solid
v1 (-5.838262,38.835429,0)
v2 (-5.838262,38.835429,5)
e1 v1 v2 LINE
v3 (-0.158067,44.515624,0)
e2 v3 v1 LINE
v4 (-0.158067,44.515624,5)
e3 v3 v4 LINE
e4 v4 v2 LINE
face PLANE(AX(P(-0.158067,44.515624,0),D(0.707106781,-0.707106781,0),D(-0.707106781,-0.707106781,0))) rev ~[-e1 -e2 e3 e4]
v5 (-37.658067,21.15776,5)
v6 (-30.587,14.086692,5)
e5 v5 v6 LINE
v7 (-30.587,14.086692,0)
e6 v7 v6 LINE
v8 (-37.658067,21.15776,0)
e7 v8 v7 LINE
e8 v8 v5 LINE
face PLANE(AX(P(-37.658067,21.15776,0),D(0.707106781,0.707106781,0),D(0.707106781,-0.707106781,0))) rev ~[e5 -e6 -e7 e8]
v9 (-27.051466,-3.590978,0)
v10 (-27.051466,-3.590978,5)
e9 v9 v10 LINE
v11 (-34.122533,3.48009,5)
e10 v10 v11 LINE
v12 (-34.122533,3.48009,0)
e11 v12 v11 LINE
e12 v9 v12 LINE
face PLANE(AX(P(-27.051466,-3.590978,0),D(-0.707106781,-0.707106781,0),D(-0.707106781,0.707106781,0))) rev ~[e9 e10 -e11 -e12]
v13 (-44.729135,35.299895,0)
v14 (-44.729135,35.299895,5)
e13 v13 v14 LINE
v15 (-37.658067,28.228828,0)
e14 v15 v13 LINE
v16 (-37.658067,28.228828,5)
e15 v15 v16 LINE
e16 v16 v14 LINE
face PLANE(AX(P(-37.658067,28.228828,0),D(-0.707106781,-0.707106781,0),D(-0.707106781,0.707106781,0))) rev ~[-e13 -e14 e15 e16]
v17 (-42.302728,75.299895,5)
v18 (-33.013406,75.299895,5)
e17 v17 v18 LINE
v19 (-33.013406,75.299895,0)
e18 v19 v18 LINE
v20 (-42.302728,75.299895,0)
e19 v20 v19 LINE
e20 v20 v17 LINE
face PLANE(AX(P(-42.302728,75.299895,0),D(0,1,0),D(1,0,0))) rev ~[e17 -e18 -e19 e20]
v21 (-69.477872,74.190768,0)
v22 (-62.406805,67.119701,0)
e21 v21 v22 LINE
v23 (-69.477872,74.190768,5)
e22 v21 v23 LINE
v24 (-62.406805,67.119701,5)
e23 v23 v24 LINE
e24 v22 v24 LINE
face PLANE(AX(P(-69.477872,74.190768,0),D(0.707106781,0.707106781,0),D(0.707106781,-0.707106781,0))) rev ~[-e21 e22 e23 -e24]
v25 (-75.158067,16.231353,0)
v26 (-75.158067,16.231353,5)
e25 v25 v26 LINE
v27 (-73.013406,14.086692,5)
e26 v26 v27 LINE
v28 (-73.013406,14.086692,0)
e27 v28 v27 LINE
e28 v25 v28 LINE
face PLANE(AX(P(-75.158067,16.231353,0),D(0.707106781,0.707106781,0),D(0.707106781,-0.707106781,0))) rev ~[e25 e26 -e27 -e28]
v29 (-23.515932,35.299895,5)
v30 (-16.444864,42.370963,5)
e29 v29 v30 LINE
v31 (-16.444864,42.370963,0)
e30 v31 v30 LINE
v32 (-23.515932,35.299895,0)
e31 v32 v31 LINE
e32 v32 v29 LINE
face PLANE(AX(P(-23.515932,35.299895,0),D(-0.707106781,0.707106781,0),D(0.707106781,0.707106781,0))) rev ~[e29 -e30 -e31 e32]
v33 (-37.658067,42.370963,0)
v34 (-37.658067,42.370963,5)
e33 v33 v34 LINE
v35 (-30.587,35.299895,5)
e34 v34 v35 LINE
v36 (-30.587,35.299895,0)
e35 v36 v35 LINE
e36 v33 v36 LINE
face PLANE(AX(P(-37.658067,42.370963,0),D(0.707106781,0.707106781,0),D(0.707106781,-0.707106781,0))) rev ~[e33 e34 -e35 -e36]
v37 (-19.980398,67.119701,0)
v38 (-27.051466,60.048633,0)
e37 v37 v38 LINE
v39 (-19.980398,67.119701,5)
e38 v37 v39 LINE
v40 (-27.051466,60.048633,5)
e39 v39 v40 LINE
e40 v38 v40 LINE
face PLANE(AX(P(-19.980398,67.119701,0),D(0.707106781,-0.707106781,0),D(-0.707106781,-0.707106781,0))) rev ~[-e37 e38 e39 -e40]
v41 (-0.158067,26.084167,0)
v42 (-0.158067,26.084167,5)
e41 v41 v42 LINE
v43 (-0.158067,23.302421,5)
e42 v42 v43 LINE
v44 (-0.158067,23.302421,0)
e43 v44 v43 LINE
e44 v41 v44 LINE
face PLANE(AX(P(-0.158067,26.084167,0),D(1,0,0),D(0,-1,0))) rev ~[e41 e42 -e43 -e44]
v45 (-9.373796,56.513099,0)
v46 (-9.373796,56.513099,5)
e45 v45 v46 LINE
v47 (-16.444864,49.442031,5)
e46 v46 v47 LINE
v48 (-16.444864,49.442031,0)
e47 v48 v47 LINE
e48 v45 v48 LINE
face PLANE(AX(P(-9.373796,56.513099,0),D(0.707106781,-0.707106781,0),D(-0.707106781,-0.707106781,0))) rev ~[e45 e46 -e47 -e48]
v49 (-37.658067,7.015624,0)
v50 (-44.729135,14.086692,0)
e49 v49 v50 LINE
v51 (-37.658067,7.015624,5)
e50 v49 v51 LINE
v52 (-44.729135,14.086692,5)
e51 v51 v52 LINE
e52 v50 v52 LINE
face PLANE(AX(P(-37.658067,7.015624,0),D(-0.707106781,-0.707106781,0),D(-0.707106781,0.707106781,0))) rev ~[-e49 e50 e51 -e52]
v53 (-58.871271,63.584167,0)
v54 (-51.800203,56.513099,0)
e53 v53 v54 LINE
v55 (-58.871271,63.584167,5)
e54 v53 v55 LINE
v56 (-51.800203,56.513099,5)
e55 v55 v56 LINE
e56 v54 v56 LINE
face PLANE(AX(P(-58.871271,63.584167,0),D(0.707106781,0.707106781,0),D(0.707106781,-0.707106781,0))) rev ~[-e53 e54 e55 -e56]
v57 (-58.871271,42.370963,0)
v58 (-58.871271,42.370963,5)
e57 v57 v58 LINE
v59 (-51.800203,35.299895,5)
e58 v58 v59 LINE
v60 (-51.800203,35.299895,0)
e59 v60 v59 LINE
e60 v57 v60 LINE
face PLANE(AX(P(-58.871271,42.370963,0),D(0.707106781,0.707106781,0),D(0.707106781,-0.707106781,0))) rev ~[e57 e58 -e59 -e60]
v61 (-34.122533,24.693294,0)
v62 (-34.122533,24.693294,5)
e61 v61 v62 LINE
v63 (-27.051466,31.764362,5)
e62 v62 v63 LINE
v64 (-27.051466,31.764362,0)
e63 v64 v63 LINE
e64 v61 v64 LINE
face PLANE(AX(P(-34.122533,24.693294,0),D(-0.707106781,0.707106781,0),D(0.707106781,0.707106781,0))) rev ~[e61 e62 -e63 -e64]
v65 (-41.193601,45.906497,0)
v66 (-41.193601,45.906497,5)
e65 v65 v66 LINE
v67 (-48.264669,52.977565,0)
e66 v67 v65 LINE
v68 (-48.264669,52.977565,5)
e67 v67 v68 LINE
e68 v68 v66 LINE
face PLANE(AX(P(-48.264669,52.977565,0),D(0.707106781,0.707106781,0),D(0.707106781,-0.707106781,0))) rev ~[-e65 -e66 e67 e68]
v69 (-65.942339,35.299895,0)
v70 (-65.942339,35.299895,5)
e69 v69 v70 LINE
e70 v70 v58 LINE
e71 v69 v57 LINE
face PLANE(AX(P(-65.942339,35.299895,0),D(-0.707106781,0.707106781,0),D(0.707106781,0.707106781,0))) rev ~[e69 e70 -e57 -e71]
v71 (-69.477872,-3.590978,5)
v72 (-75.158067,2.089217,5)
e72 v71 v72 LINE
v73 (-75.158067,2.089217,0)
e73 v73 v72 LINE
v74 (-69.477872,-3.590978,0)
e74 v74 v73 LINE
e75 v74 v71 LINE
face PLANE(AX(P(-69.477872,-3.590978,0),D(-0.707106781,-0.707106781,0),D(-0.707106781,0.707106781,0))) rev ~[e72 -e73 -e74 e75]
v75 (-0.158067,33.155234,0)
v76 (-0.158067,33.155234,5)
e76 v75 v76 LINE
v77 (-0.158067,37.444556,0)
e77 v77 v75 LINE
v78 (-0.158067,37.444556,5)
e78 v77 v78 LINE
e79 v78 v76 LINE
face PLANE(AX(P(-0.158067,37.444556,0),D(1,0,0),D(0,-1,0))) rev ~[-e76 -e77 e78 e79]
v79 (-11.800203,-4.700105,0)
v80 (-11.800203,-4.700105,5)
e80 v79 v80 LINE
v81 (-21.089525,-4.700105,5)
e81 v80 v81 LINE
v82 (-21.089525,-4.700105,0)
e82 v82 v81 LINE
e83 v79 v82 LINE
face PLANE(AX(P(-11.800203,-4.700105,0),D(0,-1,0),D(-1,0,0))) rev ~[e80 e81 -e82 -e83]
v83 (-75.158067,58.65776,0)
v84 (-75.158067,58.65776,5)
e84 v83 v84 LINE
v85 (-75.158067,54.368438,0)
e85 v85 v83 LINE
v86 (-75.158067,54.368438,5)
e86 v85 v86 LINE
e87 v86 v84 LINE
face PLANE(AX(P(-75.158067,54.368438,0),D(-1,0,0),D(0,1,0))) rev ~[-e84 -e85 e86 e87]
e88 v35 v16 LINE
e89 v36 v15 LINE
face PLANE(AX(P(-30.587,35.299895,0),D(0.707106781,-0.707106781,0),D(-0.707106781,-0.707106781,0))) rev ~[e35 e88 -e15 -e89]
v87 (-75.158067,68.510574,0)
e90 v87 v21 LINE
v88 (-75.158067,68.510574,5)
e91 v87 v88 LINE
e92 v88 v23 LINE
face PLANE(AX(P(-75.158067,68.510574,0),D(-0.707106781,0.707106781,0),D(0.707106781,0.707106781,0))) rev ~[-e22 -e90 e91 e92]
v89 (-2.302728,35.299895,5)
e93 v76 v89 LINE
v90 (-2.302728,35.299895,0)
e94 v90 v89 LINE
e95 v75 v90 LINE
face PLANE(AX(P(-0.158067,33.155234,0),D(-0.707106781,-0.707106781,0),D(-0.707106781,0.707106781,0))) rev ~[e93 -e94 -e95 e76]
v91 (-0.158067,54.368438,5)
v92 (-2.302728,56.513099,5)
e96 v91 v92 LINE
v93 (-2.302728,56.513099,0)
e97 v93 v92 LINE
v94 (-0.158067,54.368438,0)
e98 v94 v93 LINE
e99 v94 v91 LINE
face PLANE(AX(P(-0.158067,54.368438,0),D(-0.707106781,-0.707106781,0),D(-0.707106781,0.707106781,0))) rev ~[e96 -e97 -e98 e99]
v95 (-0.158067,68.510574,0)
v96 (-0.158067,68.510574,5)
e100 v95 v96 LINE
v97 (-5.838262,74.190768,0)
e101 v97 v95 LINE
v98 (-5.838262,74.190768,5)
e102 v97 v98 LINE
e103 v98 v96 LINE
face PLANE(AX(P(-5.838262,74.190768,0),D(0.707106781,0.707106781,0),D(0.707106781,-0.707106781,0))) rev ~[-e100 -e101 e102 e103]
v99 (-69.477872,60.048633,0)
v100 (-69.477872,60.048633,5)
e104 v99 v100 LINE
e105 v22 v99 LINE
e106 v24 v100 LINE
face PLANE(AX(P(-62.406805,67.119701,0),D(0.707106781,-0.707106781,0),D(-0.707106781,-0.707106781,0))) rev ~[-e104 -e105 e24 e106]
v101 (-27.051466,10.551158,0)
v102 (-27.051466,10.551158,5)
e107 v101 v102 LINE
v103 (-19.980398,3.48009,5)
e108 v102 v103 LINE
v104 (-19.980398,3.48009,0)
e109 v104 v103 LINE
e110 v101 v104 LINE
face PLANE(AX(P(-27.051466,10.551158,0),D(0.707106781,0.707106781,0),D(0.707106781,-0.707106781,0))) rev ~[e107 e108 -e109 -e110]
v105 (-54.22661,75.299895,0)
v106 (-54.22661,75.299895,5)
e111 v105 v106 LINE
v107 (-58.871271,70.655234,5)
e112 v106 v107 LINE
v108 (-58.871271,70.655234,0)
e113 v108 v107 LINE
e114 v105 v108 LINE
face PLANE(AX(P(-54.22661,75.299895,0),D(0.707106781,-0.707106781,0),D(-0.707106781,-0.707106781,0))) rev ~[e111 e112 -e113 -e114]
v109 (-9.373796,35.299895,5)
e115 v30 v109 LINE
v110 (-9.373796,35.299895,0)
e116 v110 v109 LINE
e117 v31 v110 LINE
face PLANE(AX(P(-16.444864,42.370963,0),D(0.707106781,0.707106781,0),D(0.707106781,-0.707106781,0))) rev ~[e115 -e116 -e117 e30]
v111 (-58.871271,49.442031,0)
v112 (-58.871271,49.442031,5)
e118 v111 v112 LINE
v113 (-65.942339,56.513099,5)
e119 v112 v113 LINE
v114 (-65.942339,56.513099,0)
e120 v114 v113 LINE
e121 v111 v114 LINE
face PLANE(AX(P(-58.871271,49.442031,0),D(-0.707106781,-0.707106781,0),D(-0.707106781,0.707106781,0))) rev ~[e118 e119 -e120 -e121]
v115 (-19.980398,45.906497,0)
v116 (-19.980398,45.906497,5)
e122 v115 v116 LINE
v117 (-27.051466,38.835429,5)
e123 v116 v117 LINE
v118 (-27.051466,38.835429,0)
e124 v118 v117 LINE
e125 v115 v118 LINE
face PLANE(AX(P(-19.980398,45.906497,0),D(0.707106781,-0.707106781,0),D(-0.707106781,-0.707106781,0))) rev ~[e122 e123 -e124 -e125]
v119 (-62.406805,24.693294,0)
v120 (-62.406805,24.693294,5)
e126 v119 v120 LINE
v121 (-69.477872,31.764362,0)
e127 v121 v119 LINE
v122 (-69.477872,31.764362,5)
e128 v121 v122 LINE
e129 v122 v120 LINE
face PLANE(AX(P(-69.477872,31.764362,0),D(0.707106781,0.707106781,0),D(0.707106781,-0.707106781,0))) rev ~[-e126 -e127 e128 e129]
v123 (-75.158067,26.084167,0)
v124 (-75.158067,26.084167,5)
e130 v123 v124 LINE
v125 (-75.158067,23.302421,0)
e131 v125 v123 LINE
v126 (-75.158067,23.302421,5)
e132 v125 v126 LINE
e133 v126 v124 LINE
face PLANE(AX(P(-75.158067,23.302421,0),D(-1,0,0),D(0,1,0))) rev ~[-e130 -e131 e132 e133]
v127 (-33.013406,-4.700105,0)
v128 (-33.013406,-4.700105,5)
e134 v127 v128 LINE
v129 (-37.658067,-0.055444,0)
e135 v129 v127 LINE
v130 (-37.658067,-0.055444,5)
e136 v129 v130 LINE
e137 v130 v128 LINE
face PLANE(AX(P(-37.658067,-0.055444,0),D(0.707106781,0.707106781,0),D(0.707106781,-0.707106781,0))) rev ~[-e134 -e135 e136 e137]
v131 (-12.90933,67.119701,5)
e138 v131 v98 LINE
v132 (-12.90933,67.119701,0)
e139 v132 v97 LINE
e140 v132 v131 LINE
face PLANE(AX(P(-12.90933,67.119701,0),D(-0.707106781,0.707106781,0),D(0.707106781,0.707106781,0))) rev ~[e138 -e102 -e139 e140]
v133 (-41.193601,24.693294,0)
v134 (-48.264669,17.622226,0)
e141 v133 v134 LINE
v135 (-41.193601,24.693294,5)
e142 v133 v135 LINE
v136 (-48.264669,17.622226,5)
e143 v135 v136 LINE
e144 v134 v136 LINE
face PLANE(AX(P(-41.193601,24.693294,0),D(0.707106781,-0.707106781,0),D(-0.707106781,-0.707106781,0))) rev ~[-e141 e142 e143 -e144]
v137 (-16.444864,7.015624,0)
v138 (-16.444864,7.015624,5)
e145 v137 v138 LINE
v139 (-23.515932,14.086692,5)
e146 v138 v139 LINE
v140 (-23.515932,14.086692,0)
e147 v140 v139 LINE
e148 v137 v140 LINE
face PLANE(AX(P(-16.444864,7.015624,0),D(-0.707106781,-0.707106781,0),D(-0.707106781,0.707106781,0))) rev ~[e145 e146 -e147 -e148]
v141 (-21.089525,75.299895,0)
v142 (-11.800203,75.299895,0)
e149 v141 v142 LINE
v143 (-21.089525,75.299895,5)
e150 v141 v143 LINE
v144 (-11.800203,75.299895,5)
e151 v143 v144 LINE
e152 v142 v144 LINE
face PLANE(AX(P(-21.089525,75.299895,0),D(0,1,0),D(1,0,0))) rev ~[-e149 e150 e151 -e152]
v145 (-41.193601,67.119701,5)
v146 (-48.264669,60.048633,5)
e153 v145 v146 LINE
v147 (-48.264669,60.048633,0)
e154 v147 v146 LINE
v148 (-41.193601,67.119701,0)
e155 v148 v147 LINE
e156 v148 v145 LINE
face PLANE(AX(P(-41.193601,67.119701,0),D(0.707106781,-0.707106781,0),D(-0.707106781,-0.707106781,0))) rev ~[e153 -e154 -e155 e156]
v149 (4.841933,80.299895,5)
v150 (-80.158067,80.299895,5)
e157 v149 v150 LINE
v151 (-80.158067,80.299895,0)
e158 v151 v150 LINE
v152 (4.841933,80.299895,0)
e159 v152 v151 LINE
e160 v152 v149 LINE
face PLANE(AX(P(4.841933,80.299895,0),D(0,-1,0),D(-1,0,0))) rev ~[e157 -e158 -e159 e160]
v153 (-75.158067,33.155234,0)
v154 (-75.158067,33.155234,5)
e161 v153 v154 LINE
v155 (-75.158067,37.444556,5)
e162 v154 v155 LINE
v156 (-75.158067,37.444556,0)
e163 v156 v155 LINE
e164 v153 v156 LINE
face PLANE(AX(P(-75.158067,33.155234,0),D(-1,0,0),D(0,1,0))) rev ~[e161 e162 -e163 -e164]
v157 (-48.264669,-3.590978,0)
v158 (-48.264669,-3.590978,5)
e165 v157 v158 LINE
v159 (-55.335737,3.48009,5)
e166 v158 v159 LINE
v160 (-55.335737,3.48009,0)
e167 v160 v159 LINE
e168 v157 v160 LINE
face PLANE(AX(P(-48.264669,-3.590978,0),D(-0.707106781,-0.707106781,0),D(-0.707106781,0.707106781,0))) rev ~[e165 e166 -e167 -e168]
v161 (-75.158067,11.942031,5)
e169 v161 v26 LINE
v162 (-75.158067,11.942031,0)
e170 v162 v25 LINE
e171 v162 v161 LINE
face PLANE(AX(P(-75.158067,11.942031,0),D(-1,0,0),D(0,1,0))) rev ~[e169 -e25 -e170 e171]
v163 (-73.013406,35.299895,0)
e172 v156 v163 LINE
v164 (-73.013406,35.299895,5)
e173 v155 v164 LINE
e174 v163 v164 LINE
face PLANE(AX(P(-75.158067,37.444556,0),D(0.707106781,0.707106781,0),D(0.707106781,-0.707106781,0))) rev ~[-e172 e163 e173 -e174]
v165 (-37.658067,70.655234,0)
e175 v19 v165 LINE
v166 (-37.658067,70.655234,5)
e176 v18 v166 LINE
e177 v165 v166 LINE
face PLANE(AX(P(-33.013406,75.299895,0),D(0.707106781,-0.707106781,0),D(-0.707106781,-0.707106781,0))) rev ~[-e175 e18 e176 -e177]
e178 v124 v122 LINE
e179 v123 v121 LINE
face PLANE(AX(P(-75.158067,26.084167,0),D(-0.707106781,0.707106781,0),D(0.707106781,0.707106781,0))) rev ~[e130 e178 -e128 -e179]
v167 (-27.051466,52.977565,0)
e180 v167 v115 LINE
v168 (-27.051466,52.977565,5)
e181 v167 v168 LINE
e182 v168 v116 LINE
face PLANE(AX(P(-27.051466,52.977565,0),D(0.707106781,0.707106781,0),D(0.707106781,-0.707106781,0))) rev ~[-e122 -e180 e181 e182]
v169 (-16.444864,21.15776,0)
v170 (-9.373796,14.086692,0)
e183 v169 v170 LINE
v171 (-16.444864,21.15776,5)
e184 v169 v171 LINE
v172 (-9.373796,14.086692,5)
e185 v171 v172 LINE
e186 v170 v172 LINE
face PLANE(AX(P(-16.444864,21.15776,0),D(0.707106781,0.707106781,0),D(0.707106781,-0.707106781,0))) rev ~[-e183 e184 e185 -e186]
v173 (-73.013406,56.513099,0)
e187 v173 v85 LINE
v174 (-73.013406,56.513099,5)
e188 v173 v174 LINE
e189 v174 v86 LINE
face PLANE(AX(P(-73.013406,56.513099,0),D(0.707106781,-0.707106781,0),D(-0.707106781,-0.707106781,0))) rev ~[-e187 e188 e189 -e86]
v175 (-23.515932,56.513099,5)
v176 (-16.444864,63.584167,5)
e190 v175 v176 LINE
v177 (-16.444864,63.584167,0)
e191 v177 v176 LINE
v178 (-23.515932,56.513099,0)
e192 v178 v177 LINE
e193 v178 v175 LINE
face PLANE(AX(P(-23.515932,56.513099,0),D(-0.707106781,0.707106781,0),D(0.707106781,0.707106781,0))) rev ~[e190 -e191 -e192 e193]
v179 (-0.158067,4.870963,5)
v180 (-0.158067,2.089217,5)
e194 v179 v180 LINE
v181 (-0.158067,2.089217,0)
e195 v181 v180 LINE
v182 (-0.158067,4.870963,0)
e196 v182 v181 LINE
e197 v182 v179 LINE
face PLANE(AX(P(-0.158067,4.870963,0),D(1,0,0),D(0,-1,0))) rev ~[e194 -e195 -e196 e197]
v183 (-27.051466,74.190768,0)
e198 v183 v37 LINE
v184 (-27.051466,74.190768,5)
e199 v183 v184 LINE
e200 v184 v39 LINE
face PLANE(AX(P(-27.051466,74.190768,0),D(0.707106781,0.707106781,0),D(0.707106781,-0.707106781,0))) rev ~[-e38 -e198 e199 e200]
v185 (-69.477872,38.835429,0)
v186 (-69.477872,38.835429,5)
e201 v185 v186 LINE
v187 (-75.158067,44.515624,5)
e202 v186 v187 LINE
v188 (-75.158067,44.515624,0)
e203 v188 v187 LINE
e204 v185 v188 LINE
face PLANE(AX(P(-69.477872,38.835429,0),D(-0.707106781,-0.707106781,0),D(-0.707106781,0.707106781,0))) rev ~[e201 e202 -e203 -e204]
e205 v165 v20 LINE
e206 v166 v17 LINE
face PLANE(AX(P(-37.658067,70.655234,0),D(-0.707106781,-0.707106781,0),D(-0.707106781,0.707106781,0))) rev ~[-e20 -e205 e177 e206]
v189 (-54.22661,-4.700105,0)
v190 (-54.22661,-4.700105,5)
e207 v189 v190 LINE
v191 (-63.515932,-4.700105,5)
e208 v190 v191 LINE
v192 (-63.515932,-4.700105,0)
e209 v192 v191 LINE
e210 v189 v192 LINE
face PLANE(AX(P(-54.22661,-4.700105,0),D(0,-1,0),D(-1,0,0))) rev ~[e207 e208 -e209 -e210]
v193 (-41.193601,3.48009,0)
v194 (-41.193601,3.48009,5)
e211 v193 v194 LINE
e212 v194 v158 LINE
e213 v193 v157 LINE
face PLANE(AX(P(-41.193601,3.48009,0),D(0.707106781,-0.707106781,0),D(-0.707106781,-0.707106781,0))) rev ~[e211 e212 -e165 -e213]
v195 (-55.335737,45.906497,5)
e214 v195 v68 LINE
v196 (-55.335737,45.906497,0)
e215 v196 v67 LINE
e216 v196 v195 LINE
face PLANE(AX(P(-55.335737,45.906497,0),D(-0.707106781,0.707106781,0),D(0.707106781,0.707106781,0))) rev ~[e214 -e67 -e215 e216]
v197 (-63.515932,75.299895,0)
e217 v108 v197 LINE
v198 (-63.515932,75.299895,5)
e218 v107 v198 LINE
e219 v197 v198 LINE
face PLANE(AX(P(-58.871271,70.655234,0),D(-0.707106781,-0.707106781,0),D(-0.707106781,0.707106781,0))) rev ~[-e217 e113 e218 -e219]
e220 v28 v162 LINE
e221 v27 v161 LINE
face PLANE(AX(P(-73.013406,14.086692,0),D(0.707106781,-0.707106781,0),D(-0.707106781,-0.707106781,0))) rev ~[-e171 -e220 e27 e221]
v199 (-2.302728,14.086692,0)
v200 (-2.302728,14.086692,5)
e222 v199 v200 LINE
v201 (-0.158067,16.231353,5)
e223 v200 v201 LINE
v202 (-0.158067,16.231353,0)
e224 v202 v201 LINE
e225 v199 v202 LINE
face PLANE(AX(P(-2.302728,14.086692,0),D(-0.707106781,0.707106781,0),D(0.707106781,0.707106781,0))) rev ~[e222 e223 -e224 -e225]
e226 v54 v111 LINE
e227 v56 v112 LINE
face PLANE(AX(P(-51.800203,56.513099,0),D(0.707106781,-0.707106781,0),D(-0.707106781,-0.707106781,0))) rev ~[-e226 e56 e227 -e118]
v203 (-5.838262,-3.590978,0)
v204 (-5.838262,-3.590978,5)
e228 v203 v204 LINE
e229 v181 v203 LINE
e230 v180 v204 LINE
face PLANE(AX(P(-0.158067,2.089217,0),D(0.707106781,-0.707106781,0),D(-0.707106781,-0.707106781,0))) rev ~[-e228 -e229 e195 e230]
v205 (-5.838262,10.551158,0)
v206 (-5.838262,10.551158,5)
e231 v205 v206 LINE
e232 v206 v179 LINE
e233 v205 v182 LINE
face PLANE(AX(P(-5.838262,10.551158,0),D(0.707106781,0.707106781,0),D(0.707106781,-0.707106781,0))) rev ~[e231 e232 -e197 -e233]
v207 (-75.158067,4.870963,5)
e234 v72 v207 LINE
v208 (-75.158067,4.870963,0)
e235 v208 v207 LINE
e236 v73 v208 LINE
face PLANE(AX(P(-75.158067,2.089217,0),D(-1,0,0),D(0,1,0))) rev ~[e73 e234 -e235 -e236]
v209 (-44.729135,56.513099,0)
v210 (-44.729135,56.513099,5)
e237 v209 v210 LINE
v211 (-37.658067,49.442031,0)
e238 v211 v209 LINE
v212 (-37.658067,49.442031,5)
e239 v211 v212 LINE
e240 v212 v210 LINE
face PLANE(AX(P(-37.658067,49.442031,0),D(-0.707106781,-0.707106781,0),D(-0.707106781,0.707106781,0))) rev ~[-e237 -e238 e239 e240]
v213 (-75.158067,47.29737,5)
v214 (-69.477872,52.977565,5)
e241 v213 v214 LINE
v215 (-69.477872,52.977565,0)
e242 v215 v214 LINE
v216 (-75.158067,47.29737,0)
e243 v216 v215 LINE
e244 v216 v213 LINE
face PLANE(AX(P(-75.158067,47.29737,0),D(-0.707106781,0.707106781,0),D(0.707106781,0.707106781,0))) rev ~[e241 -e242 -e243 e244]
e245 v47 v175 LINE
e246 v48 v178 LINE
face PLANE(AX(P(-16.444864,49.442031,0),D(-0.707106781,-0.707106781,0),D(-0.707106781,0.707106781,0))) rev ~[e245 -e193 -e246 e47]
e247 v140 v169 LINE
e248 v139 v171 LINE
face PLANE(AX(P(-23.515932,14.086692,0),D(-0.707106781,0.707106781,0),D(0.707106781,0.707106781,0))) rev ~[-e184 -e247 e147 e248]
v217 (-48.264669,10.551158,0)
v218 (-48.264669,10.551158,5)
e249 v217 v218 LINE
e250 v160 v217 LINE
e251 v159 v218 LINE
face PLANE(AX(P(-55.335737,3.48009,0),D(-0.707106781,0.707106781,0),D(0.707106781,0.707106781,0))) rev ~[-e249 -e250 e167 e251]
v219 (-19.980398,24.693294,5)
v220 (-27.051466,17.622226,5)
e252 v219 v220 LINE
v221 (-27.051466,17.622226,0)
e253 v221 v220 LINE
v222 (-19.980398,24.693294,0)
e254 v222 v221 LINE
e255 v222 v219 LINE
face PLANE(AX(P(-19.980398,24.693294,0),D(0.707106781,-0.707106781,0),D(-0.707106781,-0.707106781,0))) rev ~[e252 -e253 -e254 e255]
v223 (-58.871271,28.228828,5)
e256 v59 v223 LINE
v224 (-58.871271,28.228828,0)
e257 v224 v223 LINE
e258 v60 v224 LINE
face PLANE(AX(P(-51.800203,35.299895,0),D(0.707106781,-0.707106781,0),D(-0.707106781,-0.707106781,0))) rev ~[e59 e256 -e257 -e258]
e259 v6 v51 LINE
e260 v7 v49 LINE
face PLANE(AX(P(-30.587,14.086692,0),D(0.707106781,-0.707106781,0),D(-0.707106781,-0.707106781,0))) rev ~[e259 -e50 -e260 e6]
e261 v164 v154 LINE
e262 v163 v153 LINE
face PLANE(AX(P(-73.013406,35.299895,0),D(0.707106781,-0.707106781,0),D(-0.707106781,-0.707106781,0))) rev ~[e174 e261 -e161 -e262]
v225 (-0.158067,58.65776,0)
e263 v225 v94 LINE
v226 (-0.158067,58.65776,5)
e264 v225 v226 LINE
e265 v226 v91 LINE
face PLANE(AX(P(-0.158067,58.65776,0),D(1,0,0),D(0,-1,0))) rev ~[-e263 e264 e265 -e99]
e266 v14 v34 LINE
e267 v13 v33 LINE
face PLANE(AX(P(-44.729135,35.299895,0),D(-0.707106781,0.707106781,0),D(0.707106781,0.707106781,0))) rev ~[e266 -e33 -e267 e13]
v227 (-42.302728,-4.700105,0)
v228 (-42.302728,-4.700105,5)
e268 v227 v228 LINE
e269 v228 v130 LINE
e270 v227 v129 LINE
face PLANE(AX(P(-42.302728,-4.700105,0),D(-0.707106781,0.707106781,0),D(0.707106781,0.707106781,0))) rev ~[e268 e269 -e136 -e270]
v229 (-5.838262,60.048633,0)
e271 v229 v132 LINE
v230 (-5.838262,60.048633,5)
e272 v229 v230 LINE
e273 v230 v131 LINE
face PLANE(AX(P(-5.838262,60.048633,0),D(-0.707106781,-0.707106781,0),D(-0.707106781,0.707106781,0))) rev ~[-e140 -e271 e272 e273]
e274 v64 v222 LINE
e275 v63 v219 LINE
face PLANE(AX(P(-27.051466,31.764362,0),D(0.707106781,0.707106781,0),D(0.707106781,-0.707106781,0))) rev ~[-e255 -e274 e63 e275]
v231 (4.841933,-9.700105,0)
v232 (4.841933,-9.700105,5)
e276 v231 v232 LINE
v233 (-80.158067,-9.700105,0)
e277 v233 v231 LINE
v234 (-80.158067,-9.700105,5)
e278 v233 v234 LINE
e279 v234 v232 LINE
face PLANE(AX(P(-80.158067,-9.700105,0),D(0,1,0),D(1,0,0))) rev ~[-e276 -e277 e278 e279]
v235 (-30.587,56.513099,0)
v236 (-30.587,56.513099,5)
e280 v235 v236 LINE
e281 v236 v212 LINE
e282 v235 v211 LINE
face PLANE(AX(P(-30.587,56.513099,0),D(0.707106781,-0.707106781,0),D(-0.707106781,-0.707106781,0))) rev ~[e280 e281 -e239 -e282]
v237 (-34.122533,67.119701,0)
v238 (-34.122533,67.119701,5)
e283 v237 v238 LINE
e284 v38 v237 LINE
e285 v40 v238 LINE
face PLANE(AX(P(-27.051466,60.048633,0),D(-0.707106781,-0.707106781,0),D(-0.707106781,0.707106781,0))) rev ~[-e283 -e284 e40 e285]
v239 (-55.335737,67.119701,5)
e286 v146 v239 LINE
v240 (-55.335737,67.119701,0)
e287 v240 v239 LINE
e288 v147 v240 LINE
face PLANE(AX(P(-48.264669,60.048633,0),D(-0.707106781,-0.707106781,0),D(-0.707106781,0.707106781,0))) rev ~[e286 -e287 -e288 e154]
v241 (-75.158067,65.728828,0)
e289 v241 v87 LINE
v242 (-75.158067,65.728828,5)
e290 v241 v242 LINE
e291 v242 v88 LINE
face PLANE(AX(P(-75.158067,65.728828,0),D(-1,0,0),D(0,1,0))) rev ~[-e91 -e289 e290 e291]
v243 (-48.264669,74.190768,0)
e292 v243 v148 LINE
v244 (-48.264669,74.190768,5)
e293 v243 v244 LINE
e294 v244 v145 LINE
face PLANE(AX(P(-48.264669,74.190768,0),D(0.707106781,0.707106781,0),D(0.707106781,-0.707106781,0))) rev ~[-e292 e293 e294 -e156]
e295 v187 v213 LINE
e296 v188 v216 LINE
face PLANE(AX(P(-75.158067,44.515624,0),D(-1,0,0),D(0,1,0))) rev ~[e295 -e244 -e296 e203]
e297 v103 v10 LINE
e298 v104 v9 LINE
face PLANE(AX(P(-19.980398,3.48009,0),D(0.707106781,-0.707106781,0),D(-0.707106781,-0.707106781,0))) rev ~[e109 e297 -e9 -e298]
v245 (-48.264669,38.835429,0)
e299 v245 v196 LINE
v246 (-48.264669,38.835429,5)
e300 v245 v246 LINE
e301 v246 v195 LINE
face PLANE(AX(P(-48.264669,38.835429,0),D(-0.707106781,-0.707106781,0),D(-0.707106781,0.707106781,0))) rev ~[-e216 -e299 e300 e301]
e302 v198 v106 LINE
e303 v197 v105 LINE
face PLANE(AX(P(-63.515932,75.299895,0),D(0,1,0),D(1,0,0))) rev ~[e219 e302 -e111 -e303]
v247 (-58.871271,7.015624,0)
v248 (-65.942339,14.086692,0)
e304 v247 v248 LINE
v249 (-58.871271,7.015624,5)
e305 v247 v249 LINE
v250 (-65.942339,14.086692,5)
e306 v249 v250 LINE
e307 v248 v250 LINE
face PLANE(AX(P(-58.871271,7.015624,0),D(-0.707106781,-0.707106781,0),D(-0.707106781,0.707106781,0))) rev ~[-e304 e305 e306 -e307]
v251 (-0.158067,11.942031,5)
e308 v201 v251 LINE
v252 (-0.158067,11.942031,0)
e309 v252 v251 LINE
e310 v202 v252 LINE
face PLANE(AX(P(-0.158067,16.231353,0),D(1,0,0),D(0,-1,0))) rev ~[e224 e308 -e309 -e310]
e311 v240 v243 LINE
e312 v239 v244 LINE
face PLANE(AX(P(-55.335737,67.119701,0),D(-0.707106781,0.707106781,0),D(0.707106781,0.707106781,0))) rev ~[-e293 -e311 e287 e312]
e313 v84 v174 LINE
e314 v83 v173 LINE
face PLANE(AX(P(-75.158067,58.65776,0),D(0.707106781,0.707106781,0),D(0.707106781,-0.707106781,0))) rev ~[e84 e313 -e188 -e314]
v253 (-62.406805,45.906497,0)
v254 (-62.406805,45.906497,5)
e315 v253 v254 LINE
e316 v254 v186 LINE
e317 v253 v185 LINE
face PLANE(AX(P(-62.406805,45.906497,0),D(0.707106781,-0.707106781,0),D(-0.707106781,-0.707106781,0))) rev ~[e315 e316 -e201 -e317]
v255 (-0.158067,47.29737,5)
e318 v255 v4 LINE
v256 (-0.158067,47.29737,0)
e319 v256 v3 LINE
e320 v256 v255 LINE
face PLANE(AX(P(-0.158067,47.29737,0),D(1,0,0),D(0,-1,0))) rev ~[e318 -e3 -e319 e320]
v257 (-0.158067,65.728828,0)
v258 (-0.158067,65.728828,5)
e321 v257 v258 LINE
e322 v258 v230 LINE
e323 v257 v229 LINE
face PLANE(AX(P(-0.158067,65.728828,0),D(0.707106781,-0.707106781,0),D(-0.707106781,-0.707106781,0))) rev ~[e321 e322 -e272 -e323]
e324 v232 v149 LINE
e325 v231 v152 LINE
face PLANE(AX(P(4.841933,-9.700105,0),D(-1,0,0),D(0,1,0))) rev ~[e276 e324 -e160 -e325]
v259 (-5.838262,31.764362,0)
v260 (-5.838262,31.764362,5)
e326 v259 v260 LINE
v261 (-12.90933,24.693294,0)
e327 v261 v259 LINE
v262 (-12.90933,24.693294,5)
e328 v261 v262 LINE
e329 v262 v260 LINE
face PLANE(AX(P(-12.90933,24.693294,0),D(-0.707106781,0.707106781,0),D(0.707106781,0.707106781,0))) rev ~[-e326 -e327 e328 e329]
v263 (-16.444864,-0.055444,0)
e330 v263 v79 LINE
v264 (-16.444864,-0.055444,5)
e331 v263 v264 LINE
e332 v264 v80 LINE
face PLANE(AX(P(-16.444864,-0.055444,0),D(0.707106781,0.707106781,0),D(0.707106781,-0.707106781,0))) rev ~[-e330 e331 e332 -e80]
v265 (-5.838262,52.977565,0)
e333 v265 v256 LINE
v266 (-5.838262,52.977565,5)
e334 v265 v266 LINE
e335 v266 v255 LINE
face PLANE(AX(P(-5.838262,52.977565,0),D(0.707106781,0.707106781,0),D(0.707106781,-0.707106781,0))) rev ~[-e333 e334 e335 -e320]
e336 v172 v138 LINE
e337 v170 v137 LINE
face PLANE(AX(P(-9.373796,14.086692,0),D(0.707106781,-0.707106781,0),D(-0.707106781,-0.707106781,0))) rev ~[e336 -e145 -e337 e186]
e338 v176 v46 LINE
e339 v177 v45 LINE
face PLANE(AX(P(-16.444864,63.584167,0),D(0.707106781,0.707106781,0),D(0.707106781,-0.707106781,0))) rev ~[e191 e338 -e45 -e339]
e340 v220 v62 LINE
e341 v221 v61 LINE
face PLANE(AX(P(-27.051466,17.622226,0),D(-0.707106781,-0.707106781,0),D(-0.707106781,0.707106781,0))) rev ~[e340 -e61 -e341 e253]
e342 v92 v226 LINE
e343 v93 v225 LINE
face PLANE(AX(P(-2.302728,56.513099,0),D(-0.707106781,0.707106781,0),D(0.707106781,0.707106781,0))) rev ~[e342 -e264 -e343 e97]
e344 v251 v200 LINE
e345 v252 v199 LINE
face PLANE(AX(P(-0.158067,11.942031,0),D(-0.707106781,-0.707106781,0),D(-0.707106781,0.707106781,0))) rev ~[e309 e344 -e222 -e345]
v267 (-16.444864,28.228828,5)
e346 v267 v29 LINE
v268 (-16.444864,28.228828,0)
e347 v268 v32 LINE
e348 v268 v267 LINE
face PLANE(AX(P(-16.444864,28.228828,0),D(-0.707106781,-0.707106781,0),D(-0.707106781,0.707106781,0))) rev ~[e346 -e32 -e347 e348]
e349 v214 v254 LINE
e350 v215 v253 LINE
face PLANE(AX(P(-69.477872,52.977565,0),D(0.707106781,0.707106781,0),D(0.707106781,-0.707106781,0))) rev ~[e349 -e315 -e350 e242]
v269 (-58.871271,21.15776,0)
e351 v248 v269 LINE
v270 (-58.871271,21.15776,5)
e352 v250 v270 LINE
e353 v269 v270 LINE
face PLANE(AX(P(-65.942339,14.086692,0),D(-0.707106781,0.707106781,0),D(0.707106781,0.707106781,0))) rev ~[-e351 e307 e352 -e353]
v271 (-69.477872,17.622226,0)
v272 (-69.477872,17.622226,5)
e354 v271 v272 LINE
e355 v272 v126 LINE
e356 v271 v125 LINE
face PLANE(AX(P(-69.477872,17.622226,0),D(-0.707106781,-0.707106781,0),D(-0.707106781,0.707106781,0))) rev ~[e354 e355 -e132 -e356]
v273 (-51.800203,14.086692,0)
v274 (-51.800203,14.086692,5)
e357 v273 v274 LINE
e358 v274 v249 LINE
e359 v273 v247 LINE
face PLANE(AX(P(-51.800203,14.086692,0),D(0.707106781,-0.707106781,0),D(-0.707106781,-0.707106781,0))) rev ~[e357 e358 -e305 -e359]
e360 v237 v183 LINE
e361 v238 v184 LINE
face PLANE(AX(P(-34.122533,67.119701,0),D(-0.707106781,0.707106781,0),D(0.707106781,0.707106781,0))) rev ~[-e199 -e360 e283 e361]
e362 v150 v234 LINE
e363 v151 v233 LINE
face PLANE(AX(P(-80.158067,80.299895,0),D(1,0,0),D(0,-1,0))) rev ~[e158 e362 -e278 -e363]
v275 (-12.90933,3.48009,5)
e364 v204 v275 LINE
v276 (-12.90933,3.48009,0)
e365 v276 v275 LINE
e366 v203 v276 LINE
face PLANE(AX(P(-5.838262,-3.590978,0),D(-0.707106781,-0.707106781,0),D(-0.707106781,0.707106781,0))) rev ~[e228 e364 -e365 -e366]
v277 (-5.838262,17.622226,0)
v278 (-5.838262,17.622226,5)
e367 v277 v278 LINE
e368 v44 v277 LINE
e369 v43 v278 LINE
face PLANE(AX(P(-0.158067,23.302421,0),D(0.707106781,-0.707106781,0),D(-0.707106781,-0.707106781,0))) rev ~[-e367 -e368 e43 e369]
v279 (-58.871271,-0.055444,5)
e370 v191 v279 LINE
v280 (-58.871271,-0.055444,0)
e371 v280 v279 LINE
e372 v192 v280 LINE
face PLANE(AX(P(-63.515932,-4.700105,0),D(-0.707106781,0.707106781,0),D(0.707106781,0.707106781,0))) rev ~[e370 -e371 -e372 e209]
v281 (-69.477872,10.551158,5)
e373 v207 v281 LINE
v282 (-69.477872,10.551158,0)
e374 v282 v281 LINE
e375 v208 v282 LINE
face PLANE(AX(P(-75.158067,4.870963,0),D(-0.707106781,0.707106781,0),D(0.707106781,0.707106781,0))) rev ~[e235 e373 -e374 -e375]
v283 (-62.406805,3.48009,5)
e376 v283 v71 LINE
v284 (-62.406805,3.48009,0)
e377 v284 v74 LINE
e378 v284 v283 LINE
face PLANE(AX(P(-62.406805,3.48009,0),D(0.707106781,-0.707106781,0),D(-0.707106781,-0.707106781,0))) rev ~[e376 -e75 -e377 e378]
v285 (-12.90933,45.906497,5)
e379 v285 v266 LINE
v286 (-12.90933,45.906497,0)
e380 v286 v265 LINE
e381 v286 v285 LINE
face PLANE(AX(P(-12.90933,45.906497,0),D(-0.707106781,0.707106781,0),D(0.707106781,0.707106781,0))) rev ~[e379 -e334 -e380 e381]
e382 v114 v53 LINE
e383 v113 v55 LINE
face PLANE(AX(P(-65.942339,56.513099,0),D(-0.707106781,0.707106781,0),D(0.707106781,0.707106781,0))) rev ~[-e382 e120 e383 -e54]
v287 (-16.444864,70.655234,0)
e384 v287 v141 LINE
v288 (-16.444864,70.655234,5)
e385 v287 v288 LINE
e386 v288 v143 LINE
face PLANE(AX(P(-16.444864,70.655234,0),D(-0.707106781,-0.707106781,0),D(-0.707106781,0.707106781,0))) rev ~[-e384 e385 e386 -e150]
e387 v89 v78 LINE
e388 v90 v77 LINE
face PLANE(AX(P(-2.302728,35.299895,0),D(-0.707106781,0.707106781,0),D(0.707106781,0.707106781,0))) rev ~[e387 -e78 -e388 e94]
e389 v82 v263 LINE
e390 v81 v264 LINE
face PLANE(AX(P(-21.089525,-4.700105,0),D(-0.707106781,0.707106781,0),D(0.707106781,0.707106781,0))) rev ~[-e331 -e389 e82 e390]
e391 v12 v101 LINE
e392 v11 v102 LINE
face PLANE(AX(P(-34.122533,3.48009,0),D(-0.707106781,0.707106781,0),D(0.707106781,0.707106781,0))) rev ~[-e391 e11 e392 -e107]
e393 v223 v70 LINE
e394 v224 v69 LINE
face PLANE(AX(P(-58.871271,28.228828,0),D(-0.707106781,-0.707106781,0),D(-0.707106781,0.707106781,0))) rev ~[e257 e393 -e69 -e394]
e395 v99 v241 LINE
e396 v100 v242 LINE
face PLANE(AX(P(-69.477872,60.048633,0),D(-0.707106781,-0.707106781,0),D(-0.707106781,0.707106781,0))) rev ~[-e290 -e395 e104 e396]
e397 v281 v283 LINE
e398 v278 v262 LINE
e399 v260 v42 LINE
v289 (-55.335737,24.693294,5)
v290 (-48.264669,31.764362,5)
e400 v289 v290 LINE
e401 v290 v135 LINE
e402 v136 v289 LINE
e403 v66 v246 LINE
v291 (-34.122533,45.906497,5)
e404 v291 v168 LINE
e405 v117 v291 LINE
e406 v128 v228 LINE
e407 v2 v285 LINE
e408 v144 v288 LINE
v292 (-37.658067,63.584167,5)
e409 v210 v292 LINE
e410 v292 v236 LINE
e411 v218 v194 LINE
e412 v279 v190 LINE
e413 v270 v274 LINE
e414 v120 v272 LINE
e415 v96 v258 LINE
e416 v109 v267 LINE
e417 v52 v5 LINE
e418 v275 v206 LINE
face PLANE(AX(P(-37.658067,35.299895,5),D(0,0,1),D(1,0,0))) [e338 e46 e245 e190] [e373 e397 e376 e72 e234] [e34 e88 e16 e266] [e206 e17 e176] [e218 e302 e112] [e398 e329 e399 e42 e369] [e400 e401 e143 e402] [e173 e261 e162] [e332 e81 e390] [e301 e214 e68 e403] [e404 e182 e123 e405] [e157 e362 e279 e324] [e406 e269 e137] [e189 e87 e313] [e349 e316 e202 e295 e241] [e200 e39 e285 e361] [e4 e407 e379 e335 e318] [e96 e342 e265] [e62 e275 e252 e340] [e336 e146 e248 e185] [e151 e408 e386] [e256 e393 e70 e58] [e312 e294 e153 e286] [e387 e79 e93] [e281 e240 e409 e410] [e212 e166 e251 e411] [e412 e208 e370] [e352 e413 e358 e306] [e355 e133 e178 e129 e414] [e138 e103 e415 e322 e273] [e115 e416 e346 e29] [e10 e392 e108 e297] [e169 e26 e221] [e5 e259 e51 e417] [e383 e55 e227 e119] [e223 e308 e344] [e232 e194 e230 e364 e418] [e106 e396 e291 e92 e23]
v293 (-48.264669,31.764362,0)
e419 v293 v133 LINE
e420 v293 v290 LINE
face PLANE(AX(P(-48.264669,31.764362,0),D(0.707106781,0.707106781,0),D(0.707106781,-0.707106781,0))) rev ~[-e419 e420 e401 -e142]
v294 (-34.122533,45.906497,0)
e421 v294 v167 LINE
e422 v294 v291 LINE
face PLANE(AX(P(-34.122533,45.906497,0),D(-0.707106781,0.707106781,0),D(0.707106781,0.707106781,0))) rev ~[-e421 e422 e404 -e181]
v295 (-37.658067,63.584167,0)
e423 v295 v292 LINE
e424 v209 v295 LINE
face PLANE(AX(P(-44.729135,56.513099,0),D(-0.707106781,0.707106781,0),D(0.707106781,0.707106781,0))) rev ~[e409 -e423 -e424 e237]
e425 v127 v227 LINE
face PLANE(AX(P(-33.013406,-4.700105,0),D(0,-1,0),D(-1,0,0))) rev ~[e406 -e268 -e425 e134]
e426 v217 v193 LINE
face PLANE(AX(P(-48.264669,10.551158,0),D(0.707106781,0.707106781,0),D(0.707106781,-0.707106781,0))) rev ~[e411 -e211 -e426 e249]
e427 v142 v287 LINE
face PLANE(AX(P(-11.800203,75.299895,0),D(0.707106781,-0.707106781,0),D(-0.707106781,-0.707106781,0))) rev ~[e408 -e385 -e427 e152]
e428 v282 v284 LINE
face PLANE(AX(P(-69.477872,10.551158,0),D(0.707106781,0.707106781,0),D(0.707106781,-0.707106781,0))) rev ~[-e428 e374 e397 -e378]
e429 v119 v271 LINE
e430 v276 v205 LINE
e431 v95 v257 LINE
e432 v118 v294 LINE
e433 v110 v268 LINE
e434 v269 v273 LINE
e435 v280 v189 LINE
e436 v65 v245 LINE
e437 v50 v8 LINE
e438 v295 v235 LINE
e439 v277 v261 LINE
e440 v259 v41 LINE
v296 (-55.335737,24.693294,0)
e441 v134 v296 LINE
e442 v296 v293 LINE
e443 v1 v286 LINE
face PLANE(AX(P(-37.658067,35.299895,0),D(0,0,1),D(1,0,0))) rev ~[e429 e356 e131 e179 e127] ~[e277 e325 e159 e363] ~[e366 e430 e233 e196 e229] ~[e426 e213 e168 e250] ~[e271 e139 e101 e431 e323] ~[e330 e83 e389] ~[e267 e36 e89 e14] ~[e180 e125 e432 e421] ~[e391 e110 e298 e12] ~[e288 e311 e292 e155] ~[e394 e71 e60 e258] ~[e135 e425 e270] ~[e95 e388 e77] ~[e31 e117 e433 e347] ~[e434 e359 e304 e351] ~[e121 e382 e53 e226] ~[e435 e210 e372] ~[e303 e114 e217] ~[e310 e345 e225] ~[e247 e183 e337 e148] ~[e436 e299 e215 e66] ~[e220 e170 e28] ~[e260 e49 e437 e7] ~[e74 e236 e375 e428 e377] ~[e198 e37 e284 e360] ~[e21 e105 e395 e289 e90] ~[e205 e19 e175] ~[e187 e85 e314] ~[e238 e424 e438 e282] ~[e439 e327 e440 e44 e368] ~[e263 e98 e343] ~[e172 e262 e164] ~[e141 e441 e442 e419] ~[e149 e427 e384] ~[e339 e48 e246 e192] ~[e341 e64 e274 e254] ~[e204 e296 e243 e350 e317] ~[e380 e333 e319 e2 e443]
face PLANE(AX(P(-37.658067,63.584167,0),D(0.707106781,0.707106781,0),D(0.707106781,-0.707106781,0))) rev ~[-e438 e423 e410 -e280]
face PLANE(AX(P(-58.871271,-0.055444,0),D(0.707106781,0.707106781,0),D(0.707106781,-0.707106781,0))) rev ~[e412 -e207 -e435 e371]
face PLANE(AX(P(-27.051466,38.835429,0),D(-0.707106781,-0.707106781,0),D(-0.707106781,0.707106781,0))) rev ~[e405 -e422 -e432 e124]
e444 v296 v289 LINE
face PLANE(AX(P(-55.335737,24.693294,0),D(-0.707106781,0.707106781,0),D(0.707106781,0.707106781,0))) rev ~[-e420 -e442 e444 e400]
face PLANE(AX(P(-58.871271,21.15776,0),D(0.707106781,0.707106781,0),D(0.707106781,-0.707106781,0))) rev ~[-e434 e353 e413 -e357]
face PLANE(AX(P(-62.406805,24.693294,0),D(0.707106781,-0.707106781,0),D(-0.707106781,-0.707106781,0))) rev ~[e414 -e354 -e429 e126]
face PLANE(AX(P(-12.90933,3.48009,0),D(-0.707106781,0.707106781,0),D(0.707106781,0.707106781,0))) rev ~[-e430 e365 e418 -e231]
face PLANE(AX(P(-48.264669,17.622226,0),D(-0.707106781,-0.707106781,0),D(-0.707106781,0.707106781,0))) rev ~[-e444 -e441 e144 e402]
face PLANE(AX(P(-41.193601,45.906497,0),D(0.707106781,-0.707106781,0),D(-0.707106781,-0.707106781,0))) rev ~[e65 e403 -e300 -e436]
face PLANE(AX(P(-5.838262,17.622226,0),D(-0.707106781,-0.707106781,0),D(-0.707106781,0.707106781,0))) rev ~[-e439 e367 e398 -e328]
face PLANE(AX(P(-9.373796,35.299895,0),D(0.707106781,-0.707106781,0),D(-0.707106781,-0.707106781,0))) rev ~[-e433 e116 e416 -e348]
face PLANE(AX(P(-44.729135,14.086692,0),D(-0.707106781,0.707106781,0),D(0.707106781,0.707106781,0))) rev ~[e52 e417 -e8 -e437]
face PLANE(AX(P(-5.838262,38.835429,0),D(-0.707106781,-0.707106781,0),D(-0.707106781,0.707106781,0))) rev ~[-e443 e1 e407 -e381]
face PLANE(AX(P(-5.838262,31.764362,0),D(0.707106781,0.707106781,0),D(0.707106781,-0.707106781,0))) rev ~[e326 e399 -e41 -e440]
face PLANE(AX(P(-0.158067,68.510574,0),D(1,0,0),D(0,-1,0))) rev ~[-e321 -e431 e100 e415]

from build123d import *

# Parameters (mm, degrees)
SALIENTE_EXTRUIR1_DEPTH = 5


with BuildPart() as part:
    # Croquis1 → Saliente-Extruir1 (new body)
    with BuildSketch(Plane.XY):
        Polygon((4.84193268, 80.299895435), (-80.15806732, 80.299895435), (-80.15806732, 42.297370118), (-80.15806732, 28.302420752), (-80.15806732, 21.084166683), (-80.15806732, 7.089217316), (-80.15806732, -9.700104565), (-63.368745439, -9.700104565), (-54.373796072, -9.700104565), (-42.155542003, -9.700104565), (-33.160592637, -9.700104565), (-20.942338567, -9.700104565), (-11.947389201, -9.700104565), (4.84193268, -9.700104565), (4.84193268, 7.089217316), (4.84193268, 21.084166683), (4.84193268, 28.302420752), (4.84193268, 42.297370118), align=None)
        Polygon((-69.477872473, 10.551158094), (-62.406804661, 3.480090282), (-69.477872473, -3.59097753), (-75.15806732, 2.089217316), (-75.15806732, 4.870963247), align=None, mode=Mode.SUBTRACT)
        Polygon((-58.871270756, -0.055443624), (-54.226609815, -4.700104565), (-63.515931696, -4.700104565), align=None, mode=Mode.SUBTRACT)
        Polygon((-75.15806732, 16.23135294), (-73.013406379, 14.086692), (-75.15806732, 11.942031059), align=None, mode=Mode.SUBTRACT)
        Polygon((-58.871270756, 21.157759811), (-51.800202944, 14.086692), (-58.871270756, 7.015624188), (-65.942338567, 14.086692), align=None, mode=Mode.SUBTRACT)
        Polygon((-48.264669038, 10.551158094), (-41.193601226, 3.480090282), (-48.264669038, -3.59097753), (-55.33573685, 3.480090282), align=None, mode=Mode.SUBTRACT)
        Polygon((-37.65806732, -0.055443624), (-33.013406379, -4.700104565), (-42.302728261, -4.700104565), align=None, mode=Mode.SUBTRACT)
        Polygon((-37.65806732, 21.157759811), (-30.586999508, 14.086692), (-37.65806732, 7.015624188), (-44.729135132, 14.086692), align=None, mode=Mode.SUBTRACT)
        Polygon((-69.477872473, 31.764361529), (-62.406804661, 24.693293717), (-69.477872473, 17.622225905), (-75.15806732, 23.302420752), (-75.15806732, 26.084166683), align=None, mode=Mode.SUBTRACT)
        Polygon((-58.871270756, 28.228827623), (-65.942338567, 35.299895435), (-58.871270756, 42.370963247), (-51.800202944, 35.299895435), align=None, mode=Mode.SUBTRACT)
        Polygon((-48.264669038, 31.764361529), (-41.193601226, 24.693293717), (-48.264669038, 17.622225905), (-55.33573685, 24.693293717), align=None, mode=Mode.SUBTRACT)
        Polygon((-27.051465602, 10.551158094), (-19.98039779, 3.480090282), (-27.051465602, -3.59097753), (-34.122533414, 3.480090282), align=None, mode=Mode.SUBTRACT)
        Polygon((-16.444863884, -0.055443624), (-11.800202944, -4.700104565), (-21.089524825, -4.700104565), align=None, mode=Mode.SUBTRACT)
        Polygon((-5.838262167, 10.551158094), (-0.15806732, 4.870963247), (-0.15806732, 2.089217316), (-5.838262167, -3.59097753), (-12.909329978, 3.480090282), align=None, mode=Mode.SUBTRACT)
        Polygon((-16.444863884, 21.157759811), (-9.373796072, 14.086692), (-16.444863884, 7.015624188), (-23.515931696, 14.086692), align=None, mode=Mode.SUBTRACT)
        Polygon((-2.302728261, 14.086692), (-0.15806732, 16.23135294), (-0.15806732, 11.942031059), align=None, mode=Mode.SUBTRACT)
        Polygon((-27.051465602, 31.764361529), (-19.98039779, 24.693293717), (-27.051465602, 17.622225905), (-34.122533414, 24.693293717), align=None, mode=Mode.SUBTRACT)
        Polygon((-5.838262167, 31.764361529), (-0.15806732, 26.084166683), (-0.15806732, 23.302420752), (-5.838262167, 17.622225905), (-12.909329978, 24.693293717), align=None, mode=Mode.SUBTRACT)
        Polygon((-73.013406379, 35.299895435), (-75.15806732, 33.155234494), (-75.15806732, 37.444556376), align=None, mode=Mode.SUBTRACT)
        Polygon((-62.406804661, 45.906497153), (-69.477872473, 38.835429341), (-75.15806732, 44.515624188), (-75.15806732, 47.297370118), (-69.477872473, 52.977564965), align=None, mode=Mode.SUBTRACT)
        Polygon((-44.729135132, 35.299895435), (-37.65806732, 42.370963247), (-30.586999508, 35.299895435), (-37.65806732, 28.228827623), align=None, mode=Mode.SUBTRACT)
        Polygon((-55.33573685, 45.906497153), (-48.264669038, 52.977564965), (-41.193601226, 45.906497153), (-48.264669038, 38.835429341), align=None, mode=Mode.SUBTRACT)
        Polygon((-75.15806732, 58.657759811), (-73.013406379, 56.513098871), (-75.15806732, 54.36843793), align=None, mode=Mode.SUBTRACT)
        Polygon((-65.942338567, 56.513098871), (-58.871270756, 63.584166683), (-51.800202944, 56.513098871), (-58.871270756, 49.442031059), align=None, mode=Mode.SUBTRACT)
        Polygon((-62.406804661, 67.119700589), (-69.477872473, 60.048632777), (-75.15806732, 65.728827623), (-75.15806732, 68.510573554), (-69.477872473, 74.1907684), align=None, mode=Mode.SUBTRACT)
        Polygon((-54.226609815, 75.299895435), (-58.871270756, 70.655234494), (-63.515931696, 75.299895435), align=None, mode=Mode.SUBTRACT)
        Polygon((-44.729135132, 56.513098871), (-37.65806732, 63.584166683), (-30.586999508, 56.513098871), (-37.65806732, 49.442031059), align=None, mode=Mode.SUBTRACT)
        Polygon((-55.33573685, 67.119700589), (-48.264669038, 74.1907684), (-41.193601226, 67.119700589), (-48.264669038, 60.048632777), align=None, mode=Mode.SUBTRACT)
        Polygon((-33.013406379, 75.299895435), (-37.65806732, 70.655234494), (-42.302728261, 75.299895435), align=None, mode=Mode.SUBTRACT)
        Polygon((-34.122533414, 45.906497153), (-27.051465602, 52.977564965), (-19.98039779, 45.906497153), (-27.051465602, 38.835429341), align=None, mode=Mode.SUBTRACT)
        Polygon((-16.444863884, 28.228827623), (-23.515931696, 35.299895435), (-16.444863884, 42.370963247), (-9.373796072, 35.299895435), align=None, mode=Mode.SUBTRACT)
        Polygon((-0.15806732, 33.155234494), (-2.302728261, 35.299895435), (-0.15806732, 37.444556376), align=None, mode=Mode.SUBTRACT)
        Polygon((-0.15806732, 44.515624188), (-5.838262167, 38.835429341), (-12.909329978, 45.906497153), (-5.838262167, 52.977564965), (-0.15806732, 47.297370118), align=None, mode=Mode.SUBTRACT)
        Polygon((-34.122533414, 67.119700589), (-27.051465602, 74.1907684), (-19.98039779, 67.119700589), (-27.051465602, 60.048632777), align=None, mode=Mode.SUBTRACT)
        Polygon((-23.515931696, 56.513098871), (-16.444863884, 63.584166683), (-9.373796072, 56.513098871), (-16.444863884, 49.442031059), align=None, mode=Mode.SUBTRACT)
        Polygon((-0.15806732, 54.36843793), (-2.302728261, 56.513098871), (-0.15806732, 58.657759811), align=None, mode=Mode.SUBTRACT)
        Polygon((-11.800202944, 75.299895435), (-16.444863884, 70.655234494), (-21.089524825, 75.299895435), align=None, mode=Mode.SUBTRACT)
        Polygon((-0.15806732, 68.510573554), (-0.15806732, 65.728827623), (-5.838262167, 60.048632777), (-12.909329978, 67.119700589), (-5.838262167, 74.1907684), align=None, mode=Mode.SUBTRACT)
    extrude(amount=SALIENTE_EXTRUIR1_DEPTH)


solid = part.part
